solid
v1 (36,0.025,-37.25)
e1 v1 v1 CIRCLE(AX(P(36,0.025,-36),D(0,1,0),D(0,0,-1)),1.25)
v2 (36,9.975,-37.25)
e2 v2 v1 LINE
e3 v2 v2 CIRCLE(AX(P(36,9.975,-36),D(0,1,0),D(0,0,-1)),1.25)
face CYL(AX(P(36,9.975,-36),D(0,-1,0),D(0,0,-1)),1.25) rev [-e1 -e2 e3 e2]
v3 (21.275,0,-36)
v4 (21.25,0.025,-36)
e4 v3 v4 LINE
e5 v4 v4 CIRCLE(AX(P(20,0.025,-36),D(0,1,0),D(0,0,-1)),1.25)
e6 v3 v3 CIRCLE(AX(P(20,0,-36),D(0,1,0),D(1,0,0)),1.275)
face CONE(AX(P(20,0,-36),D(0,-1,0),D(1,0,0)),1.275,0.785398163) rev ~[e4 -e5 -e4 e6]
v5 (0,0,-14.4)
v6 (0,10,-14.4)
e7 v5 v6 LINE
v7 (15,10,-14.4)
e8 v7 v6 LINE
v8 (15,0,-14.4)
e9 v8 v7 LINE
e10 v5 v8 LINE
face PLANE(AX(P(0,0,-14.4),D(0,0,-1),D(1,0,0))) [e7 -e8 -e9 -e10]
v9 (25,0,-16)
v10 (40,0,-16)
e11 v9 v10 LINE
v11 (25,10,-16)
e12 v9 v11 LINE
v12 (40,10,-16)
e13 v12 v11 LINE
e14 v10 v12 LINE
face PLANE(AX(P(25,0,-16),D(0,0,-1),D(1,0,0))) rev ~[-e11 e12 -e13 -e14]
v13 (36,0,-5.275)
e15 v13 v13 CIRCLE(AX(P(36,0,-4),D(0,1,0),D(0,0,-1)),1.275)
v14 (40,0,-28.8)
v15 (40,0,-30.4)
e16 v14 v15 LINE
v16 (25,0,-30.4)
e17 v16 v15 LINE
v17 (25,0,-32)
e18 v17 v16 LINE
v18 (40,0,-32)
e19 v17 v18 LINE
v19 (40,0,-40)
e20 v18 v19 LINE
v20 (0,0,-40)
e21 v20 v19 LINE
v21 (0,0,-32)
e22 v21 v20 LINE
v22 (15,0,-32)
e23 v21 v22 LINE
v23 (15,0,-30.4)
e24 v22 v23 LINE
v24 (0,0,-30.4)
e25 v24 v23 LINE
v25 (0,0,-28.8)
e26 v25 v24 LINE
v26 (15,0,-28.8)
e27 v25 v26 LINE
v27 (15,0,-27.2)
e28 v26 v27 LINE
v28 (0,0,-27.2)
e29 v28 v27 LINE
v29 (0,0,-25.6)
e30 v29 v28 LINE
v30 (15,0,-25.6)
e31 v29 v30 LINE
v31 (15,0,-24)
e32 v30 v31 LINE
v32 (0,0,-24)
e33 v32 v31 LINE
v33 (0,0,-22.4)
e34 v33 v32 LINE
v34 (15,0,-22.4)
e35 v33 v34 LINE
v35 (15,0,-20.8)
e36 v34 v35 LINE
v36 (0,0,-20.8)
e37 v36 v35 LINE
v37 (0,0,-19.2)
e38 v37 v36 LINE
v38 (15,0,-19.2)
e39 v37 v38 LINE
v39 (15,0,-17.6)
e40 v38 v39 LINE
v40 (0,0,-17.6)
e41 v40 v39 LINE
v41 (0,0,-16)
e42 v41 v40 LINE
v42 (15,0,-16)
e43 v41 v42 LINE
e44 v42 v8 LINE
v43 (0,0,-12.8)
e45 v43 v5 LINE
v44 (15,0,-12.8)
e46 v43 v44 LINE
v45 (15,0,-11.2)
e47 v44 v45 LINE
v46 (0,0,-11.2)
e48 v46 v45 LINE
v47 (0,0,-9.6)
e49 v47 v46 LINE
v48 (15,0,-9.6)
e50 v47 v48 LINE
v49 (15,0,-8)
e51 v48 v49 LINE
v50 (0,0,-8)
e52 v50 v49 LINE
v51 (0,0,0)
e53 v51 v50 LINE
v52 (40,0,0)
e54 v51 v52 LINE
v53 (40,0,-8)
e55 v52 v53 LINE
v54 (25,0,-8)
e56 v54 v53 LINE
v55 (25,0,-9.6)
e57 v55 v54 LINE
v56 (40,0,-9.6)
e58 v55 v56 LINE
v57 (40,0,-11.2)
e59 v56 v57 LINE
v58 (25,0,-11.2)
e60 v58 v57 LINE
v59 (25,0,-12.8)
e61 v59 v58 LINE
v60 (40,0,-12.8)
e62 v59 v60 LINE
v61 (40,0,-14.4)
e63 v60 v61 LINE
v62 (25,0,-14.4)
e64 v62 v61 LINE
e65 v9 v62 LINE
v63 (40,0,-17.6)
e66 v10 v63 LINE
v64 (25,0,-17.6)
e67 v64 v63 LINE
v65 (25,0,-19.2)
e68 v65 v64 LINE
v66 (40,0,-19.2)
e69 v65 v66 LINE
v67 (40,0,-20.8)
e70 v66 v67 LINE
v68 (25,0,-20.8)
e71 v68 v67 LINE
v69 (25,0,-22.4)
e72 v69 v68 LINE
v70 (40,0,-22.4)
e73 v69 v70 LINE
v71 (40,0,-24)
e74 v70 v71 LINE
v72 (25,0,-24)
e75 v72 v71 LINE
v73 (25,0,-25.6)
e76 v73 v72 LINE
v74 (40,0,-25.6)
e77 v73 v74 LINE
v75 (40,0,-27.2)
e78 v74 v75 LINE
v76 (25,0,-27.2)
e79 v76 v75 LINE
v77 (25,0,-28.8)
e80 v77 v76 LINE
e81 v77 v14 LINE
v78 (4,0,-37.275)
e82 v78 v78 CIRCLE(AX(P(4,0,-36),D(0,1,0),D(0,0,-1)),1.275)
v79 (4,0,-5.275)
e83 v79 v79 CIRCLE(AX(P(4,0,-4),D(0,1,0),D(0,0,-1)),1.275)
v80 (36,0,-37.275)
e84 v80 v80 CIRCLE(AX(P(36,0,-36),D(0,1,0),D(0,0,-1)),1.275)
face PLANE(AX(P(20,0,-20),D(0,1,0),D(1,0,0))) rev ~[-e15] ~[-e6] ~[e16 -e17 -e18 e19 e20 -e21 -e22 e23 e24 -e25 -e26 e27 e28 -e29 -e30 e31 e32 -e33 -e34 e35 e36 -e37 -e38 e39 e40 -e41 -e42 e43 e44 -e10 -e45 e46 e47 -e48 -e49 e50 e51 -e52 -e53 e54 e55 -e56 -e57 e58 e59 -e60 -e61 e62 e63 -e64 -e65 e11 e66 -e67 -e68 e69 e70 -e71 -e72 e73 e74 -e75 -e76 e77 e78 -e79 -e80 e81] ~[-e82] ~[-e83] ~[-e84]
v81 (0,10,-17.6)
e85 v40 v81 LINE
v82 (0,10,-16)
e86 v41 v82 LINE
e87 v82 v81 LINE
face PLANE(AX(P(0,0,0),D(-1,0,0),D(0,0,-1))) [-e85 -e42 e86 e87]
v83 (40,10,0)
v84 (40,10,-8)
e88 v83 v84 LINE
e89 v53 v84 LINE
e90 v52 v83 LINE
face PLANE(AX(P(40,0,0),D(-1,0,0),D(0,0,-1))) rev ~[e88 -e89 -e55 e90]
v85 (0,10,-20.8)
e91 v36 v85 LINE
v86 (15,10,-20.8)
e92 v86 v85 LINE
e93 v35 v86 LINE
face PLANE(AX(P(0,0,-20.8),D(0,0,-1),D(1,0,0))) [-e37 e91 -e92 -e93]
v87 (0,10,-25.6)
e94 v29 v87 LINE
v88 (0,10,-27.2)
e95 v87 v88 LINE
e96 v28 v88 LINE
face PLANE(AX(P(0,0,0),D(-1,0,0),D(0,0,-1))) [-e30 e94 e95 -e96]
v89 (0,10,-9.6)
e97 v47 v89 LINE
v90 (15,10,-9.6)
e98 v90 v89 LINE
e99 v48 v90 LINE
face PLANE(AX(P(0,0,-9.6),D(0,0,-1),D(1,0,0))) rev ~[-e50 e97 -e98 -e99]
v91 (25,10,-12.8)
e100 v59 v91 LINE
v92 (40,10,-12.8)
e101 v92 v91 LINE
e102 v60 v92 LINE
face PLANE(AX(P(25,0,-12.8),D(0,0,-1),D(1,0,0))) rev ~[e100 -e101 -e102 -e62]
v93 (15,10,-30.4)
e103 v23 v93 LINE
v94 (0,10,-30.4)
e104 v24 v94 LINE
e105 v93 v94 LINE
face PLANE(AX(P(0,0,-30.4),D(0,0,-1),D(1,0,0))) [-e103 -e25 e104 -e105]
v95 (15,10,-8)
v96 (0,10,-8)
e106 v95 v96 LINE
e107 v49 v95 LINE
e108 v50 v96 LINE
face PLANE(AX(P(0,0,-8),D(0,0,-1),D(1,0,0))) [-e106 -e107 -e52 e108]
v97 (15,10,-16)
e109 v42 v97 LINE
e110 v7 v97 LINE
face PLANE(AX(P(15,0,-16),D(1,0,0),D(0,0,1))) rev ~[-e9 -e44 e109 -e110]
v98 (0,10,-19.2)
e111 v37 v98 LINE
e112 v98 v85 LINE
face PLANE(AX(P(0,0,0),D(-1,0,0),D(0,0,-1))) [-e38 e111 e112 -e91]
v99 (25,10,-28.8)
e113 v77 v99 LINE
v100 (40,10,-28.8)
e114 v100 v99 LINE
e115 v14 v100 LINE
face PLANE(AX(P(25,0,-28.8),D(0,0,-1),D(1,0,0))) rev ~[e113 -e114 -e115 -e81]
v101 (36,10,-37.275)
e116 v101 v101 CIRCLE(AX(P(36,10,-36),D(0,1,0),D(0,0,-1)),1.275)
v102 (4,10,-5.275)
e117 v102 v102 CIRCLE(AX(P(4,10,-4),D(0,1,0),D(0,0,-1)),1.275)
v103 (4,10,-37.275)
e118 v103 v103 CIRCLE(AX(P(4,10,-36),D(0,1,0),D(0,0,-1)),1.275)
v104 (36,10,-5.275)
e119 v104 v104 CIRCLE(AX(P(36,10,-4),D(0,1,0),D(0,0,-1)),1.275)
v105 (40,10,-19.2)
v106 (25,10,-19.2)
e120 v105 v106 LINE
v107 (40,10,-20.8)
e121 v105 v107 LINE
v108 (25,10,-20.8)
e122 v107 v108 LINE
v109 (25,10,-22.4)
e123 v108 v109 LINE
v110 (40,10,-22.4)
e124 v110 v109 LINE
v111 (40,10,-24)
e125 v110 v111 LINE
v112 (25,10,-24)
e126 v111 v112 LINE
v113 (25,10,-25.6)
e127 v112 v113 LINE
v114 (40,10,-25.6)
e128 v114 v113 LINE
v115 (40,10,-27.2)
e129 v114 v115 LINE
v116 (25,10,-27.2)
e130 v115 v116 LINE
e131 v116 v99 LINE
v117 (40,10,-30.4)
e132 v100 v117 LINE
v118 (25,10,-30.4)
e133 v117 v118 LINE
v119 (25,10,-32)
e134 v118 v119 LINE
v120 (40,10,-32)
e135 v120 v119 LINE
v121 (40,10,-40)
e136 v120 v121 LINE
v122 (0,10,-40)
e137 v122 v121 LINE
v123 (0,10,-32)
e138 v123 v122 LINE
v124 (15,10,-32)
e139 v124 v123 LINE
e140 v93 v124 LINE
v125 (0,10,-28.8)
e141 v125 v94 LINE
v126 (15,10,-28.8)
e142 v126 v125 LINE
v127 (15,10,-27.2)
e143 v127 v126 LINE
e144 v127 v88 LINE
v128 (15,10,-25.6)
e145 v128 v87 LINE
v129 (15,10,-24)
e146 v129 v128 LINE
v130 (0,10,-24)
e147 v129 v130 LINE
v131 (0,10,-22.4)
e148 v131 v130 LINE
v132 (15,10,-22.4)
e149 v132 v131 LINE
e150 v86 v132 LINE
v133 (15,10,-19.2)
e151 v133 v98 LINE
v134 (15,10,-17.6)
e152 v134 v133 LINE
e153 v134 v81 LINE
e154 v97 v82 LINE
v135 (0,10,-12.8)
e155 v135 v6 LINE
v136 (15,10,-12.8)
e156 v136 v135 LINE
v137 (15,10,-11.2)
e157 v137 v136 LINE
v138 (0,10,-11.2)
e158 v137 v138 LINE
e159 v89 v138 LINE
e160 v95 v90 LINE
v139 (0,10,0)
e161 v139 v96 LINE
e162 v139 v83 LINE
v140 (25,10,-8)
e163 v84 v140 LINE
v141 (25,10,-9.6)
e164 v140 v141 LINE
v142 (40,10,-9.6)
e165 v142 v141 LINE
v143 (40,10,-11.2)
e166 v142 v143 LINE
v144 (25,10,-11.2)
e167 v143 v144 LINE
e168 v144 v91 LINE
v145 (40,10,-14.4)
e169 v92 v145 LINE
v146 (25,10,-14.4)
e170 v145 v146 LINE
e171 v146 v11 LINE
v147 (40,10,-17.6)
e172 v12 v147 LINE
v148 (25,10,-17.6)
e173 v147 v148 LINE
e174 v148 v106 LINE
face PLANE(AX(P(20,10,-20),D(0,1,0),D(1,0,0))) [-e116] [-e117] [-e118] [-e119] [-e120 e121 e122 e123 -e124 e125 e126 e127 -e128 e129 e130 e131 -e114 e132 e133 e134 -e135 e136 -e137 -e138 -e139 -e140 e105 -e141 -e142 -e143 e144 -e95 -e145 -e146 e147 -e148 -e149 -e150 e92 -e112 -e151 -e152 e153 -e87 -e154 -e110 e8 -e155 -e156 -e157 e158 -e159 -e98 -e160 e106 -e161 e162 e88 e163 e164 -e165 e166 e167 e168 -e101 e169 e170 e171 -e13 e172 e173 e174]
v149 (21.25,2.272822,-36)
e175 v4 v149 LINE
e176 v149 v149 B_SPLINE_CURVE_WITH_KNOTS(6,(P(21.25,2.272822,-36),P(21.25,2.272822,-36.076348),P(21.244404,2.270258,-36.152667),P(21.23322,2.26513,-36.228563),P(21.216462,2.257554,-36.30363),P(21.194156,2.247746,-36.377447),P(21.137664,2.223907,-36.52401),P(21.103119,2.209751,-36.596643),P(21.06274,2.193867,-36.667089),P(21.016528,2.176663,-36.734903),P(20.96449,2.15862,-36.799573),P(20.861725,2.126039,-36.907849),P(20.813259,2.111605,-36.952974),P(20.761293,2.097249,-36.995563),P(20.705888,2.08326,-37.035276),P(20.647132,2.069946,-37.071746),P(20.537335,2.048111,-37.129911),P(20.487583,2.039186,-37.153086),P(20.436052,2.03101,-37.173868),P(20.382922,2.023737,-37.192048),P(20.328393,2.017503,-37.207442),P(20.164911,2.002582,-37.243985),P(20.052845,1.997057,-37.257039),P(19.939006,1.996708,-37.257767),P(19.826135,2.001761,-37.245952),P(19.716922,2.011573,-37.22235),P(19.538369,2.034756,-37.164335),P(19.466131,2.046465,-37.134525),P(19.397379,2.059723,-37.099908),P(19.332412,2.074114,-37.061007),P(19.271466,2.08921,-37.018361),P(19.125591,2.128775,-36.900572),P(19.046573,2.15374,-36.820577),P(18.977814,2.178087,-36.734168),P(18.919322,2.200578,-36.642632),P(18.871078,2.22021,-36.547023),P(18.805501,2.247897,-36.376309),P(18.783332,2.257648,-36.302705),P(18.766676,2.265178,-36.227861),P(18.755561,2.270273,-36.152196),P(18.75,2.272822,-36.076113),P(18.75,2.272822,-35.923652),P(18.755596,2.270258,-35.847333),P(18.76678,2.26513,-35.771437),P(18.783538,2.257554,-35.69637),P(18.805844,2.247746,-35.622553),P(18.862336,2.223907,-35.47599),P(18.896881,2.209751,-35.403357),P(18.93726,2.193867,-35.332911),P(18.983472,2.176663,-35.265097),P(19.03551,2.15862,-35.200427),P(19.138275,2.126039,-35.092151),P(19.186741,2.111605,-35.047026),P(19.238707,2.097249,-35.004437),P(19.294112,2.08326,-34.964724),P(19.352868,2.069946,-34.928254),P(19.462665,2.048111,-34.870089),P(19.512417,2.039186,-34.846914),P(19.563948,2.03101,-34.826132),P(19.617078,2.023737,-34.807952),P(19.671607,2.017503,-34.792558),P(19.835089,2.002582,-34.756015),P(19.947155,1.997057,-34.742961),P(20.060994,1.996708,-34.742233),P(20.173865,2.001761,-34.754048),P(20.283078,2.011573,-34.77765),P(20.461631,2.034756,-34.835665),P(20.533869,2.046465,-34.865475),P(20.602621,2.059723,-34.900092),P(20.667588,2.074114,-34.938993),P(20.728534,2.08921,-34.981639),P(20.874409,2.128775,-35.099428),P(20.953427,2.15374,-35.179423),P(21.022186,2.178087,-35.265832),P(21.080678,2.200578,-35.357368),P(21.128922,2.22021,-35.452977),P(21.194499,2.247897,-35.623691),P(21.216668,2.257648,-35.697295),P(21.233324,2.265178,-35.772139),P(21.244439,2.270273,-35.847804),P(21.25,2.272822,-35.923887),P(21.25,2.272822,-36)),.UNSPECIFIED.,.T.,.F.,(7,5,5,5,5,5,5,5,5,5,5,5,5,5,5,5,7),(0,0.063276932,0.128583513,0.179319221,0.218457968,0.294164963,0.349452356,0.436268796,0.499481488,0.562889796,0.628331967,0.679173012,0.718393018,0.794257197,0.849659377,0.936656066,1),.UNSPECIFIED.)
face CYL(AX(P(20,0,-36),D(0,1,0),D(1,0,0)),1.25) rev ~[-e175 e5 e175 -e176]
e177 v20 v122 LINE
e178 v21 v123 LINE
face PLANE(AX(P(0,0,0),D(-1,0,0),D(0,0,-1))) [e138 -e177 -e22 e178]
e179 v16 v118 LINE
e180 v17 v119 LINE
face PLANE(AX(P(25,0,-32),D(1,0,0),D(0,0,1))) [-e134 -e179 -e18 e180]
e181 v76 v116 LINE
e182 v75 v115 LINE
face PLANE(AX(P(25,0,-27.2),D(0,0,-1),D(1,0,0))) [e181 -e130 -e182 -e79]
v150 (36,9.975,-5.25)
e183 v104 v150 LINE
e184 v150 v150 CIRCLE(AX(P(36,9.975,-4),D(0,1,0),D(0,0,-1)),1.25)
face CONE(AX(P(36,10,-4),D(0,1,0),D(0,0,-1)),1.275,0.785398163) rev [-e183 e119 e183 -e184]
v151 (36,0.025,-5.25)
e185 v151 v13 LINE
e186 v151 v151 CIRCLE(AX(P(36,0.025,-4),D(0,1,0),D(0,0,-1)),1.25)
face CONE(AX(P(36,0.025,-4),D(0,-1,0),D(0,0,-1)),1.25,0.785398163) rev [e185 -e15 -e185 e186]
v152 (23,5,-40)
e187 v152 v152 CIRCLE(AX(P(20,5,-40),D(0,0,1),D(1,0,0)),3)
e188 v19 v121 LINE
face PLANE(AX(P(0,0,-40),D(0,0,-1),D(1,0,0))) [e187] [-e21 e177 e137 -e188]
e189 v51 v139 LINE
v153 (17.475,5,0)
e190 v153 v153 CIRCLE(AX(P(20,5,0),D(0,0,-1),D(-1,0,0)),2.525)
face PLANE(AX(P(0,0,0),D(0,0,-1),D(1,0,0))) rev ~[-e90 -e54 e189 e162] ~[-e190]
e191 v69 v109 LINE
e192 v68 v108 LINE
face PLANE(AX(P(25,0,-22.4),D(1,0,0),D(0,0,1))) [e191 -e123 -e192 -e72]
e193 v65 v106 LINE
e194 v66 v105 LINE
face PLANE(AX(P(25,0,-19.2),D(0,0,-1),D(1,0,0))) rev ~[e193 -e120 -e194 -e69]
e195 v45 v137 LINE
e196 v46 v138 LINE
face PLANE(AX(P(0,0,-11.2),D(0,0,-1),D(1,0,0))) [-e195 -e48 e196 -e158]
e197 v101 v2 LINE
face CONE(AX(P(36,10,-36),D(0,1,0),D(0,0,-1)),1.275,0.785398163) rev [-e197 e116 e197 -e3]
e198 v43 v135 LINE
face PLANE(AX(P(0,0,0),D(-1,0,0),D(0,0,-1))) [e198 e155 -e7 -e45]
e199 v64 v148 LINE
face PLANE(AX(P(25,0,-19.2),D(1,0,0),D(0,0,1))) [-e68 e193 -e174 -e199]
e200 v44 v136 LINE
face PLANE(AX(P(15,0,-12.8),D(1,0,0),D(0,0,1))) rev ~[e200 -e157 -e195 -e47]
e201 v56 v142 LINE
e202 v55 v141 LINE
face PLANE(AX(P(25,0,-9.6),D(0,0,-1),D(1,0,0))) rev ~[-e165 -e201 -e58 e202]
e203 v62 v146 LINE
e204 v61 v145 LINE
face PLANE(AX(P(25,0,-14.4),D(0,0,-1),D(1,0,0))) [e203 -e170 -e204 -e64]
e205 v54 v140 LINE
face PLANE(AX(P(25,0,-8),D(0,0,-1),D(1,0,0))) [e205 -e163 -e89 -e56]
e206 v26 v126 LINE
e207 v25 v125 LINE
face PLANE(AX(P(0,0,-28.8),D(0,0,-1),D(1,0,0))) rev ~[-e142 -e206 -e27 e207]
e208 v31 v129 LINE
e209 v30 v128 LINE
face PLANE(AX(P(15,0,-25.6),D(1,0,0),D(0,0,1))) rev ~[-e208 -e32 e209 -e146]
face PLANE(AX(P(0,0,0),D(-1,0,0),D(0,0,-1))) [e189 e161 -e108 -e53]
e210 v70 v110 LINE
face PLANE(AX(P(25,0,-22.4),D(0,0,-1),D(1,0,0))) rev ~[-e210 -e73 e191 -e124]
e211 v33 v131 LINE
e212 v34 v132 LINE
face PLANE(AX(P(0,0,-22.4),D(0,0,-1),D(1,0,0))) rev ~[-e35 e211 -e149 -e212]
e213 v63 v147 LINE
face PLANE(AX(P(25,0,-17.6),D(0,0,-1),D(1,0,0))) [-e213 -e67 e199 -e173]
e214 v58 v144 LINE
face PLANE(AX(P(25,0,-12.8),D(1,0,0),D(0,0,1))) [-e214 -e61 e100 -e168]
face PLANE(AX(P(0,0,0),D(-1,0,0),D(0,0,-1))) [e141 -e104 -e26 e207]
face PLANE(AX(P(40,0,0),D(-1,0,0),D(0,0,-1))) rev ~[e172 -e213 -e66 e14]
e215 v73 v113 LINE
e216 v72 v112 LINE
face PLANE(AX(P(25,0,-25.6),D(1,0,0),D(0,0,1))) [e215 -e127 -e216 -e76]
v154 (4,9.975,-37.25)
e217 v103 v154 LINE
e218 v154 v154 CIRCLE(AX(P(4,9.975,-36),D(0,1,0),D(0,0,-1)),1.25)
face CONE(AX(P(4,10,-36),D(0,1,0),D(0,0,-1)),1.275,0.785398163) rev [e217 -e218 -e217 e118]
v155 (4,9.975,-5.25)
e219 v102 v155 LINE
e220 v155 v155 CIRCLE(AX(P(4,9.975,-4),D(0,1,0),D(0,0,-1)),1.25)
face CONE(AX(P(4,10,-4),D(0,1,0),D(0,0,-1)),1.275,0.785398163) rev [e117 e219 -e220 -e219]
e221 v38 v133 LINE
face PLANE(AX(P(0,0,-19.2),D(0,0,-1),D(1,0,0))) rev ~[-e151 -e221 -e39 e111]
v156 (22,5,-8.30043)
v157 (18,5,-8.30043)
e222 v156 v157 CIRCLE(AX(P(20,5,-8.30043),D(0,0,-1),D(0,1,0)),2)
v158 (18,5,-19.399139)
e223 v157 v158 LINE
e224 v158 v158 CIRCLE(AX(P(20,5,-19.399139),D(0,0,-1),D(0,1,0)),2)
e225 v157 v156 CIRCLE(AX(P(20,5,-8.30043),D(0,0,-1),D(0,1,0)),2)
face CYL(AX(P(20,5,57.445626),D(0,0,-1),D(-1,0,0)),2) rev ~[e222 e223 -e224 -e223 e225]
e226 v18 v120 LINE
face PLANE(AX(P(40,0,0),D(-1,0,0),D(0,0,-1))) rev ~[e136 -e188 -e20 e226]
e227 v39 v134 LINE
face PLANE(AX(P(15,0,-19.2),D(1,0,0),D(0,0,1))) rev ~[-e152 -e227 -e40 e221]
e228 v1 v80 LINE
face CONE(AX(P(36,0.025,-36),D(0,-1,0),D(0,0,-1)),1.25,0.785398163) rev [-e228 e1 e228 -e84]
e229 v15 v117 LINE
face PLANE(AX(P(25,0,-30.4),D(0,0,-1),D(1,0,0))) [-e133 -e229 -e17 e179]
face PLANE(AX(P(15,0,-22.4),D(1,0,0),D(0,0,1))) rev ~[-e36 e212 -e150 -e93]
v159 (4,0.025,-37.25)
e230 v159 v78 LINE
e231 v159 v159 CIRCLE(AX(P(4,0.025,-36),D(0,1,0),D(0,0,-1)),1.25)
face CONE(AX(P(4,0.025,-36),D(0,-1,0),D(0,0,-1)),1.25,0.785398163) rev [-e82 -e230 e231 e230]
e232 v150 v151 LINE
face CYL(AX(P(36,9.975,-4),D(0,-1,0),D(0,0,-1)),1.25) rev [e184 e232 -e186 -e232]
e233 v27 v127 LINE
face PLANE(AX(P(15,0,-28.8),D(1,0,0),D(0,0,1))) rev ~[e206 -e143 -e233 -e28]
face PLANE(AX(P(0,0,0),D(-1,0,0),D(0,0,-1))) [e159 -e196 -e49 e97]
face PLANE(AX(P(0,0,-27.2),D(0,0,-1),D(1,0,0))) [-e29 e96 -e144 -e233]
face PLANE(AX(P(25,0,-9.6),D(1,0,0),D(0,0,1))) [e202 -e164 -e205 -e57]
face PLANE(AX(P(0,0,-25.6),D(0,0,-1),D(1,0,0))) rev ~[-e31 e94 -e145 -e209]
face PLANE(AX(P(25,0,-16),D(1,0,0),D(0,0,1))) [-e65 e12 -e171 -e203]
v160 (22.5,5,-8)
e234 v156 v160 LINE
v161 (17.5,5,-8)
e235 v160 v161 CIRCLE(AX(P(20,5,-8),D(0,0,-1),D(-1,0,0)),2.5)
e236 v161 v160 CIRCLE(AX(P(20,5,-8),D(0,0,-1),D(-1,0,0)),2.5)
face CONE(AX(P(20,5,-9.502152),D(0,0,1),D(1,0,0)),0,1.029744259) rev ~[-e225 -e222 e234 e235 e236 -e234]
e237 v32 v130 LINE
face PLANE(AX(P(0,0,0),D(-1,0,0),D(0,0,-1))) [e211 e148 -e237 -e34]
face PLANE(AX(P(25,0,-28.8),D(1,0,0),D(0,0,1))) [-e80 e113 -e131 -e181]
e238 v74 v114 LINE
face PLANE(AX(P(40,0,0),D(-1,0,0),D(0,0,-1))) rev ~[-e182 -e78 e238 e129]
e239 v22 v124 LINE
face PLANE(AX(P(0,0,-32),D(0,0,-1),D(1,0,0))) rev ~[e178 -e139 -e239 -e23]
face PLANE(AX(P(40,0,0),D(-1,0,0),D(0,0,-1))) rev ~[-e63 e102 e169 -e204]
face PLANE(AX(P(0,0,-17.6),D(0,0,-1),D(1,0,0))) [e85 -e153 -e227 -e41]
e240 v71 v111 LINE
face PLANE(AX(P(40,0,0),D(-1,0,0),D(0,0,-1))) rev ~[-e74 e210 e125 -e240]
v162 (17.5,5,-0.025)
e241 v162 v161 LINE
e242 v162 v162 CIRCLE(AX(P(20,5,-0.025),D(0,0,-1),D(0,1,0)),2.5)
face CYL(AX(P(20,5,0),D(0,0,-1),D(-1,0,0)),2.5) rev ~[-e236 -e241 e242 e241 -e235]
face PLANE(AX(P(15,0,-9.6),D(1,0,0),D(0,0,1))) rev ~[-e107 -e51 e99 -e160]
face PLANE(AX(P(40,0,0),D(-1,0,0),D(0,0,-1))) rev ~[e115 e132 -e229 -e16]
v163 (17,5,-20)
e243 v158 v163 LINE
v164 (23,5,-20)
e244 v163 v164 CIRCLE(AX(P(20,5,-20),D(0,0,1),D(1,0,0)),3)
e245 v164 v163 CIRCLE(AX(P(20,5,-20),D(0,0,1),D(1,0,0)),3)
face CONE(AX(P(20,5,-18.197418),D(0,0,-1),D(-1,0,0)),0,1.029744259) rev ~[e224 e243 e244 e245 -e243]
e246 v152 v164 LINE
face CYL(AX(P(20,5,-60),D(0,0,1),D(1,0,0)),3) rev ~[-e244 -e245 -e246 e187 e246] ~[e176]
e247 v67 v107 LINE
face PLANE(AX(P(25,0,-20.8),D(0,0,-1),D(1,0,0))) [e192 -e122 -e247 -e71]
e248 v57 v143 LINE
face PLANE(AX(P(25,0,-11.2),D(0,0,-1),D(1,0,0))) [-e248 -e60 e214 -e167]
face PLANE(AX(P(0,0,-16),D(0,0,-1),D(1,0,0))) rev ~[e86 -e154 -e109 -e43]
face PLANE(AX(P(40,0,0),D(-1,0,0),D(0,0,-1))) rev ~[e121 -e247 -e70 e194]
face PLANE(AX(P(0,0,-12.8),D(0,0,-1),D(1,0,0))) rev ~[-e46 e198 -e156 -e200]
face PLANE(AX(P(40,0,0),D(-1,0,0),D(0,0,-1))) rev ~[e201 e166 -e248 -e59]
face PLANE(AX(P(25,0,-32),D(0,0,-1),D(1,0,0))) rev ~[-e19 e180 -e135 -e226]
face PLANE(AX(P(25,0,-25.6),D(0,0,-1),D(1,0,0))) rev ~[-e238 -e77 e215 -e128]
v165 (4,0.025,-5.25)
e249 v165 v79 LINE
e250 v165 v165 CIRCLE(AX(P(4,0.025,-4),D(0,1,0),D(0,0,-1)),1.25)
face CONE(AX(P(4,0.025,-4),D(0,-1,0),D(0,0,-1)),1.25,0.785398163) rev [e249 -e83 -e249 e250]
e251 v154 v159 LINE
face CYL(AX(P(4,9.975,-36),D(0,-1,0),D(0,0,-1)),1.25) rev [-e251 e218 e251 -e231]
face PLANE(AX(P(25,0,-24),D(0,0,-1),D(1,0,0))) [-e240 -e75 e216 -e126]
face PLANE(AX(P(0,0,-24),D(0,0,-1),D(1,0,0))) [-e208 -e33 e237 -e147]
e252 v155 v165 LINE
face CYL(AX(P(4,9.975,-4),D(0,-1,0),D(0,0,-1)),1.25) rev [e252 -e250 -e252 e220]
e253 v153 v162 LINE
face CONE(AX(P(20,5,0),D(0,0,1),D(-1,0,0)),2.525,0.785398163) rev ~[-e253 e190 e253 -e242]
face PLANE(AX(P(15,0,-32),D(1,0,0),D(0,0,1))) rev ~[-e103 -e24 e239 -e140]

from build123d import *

# Parameters (mm, degrees)
ESQUISSE1_W                                         = 40
ESQUISSE1_H                                         = 40
BOSS_EXTRU_1_DEPTH                                  = 10
DIAM_TRE_DU_PER_AGE_4_0_4_1_D                       = 4
TROU_POUR_TARAUDAGE_POUR_TROU_TARAUD_M6_D           = 5
TROU_POUR_TARAUDAGE_POUR_TROU_TARAUD_M6_DEPTH       = 8
TROU_POUR_TARAUDAGE_POUR_TROU_TARAUD_M6_CSINK_D     = 5.05
TROU_POUR_TARAUDAGE_POUR_TROU_TARAUD_M6_CSINK_ANGLE = 90
TROU_POUR_TARAUDAGE_POUR_TROU_TARAUD_M6_TIP         = 1.502151548
DIAM_TRE_DU_PER_AGE_6_0_6_1_D                       = 6
DIAM_TRE_DU_PER_AGE_6_0_6_1_DEPTH                   = 20
DIAM_TRE_DU_PER_AGE_6_0_6_1_TIP                     = 1.802581857
TROU_POUR_TARAUDAGE_POUR_TROU_TARAUD_2_COUNT        = 2
TROU_POUR_TARAUDAGE_POUR_TROU_TARAUD_2_PITCH        = 32
TROU_POUR_TARAUDAGE_POUR_TROU_TARAUD_3_COUNT        = 2
TROU_POUR_TARAUDAGE_POUR_TROU_TARAUD_3_PITCH        = 45.254833996
TROU_POUR_TARAUDAGE_POUR_TROU_TARAUD_4_COUNT        = 2
TROU_POUR_TARAUDAGE_POUR_TROU_TARAUD_4_PITCH        = 32
TROU_POUR_TARAUDAGE_POUR_TROU_TARAUD_5_D            = 2.5
TROU_POUR_TARAUDAGE_POUR_TROU_TARAUD_5_DEPTH        = 5
TROU_POUR_TARAUDAGE_POUR_TROU_TARAUD_5_CSINK_D      = 2.55
TROU_POUR_TARAUDAGE_POUR_TROU_TARAUD_5_CSINK_ANGLE  = 90
TROU_POUR_TARAUDAGE_POUR_TROU_TARAUD_5_TIP          = 0.751075774
ESQUISSE21_W                                        = 15
ESQUISSE21_H                                        = 1.6
ENL_V_MAT_EXTRU_1_DEPTH                             = 58.445626535
R_P_TITION_LIN_AIRE1_COUNT                          = 8
R_P_TITION_LIN_AIRE1_PITCH                          = 3.2


with BuildPart() as part:
    # Esquisse1 → Boss.-Extru.1 (new body)
    with BuildSketch(Plane(origin=(0, 0, 0), x_dir=(1, 0, 0), z_dir=(0, 1, 0))):
        with Locations((20, 20)):
            Rectangle(ESQUISSE1_W, ESQUISSE1_H)
    extrude(amount=BOSS_EXTRU_1_DEPTH)

    # Diamètre du perçage Ø4.0 (4)1 (through all)
    with Locations(Plane.XY):
        with Locations((20, 5)):
            Hole(DIAM_TRE_DU_PER_AGE_4_0_4_1_D / 2)

    # Trou pour taraudage pour trou taraudé M61
    with Locations(Plane.XY):
        with Locations((20, 5)):
            CounterSinkHole(TROU_POUR_TARAUDAGE_POUR_TROU_TARAUD_M6_D / 2, TROU_POUR_TARAUDAGE_POUR_TROU_TARAUD_M6_CSINK_D / 2, depth=TROU_POUR_TARAUDAGE_POUR_TROU_TARAUD_M6_DEPTH, counter_sink_angle=TROU_POUR_TARAUDAGE_POUR_TROU_TARAUD_M6_CSINK_ANGLE)
            with Locations((0, 0, -(TROU_POUR_TARAUDAGE_POUR_TROU_TARAUD_M6_DEPTH + TROU_POUR_TARAUDAGE_POUR_TROU_TARAUD_M6_TIP / 2))):  # 118° drill point
                Cone(0, TROU_POUR_TARAUDAGE_POUR_TROU_TARAUD_M6_D / 2, TROU_POUR_TARAUDAGE_POUR_TROU_TARAUD_M6_TIP, mode=Mode.SUBTRACT)

    # Diamètre du perçage Ø6.0 (6)1
    with Locations(Plane(origin=(0, 0, -40), x_dir=(-1, 0, 0), z_dir=(0, 0, -1))):
        with Locations((-20, 5)):
            Hole(DIAM_TRE_DU_PER_AGE_6_0_6_1_D / 2, depth=DIAM_TRE_DU_PER_AGE_6_0_6_1_DEPTH)
            with Locations((0, 0, -(DIAM_TRE_DU_PER_AGE_6_0_6_1_DEPTH + DIAM_TRE_DU_PER_AGE_6_0_6_1_TIP / 2))):  # 118° drill point
                Cone(0, DIAM_TRE_DU_PER_AGE_6_0_6_1_D / 2, DIAM_TRE_DU_PER_AGE_6_0_6_1_TIP, mode=Mode.SUBTRACT)

    # Esquisse17 → Trou pour taraudage pour trou taraud_ M3 (revolve, cut)
    with BuildSketch(Plane(origin=(4, 0, -4), x_dir=(0, 0, -1), z_dir=(1, 0, 0))):
        Polygon((0, 0), (0, 10), (1.275, 10), (1.25, 9.975), (1.25, 0.025), (1.275, 0), align=None)
    trou_pour_taraudage_pour_trou_taraud_m3 = revolve(axis=Axis((4, -6.35, -4), (0, 1, 0)), mode=Mode.SUBTRACT)

    # Trou pour taraudage pour trou taraud 2: Trou pour taraudage pour trou taraud_ M3 ×2
    with Locations(*[(i * TROU_POUR_TARAUDAGE_POUR_TROU_TARAUD_2_PITCH, 0, 0) for i in range(1, TROU_POUR_TARAUDAGE_POUR_TROU_TARAUD_2_COUNT)]):
        add(trou_pour_taraudage_pour_trou_taraud_m3, mode=Mode.SUBTRACT)

    # Trou pour taraudage pour trou taraud 3: Trou pour taraudage pour trou taraud_ M3 ×2
    with Locations(*[Vector(0.7071067811865475, 0, -0.7071067811865476) * (i * TROU_POUR_TARAUDAGE_POUR_TROU_TARAUD_3_PITCH) for i in range(1, TROU_POUR_TARAUDAGE_POUR_TROU_TARAUD_3_COUNT)]):
        add(trou_pour_taraudage_pour_trou_taraud_m3, mode=Mode.SUBTRACT)

    # Trou pour taraudage pour trou taraud 4: Trou pour taraudage pour trou taraud_ M3 ×2
    with Locations(*[(0, 0, -i * TROU_POUR_TARAUDAGE_POUR_TROU_TARAUD_4_PITCH) for i in range(1, TROU_POUR_TARAUDAGE_POUR_TROU_TARAUD_4_COUNT)]):
        add(trou_pour_taraudage_pour_trou_taraud_m3, mode=Mode.SUBTRACT)

    # Trou pour taraudage pour trou taraud 5
    with Locations(Plane(origin=(0, 0, 0), x_dir=(-1, 0, 0), z_dir=(0, -1, 0))):
        with Locations((-20, 36)):
            CounterSinkHole(TROU_POUR_TARAUDAGE_POUR_TROU_TARAUD_5_D / 2, TROU_POUR_TARAUDAGE_POUR_TROU_TARAUD_5_CSINK_D / 2, depth=TROU_POUR_TARAUDAGE_POUR_TROU_TARAUD_5_DEPTH, counter_sink_angle=TROU_POUR_TARAUDAGE_POUR_TROU_TARAUD_5_CSINK_ANGLE)
            with Locations((0, 0, -(TROU_POUR_TARAUDAGE_POUR_TROU_TARAUD_5_DEPTH + TROU_POUR_TARAUDAGE_POUR_TROU_TARAUD_5_TIP / 2))):  # 118° drill point
                Cone(0, TROU_POUR_TARAUDAGE_POUR_TROU_TARAUD_5_D / 2, TROU_POUR_TARAUDAGE_POUR_TROU_TARAUD_5_TIP, mode=Mode.SUBTRACT)

    # Esquisse21 → Enlèv. mat.-Extru.1 (cut, through all)
    with BuildSketch(Plane.XZ):
        with Locations((7.5, -8.8)):
            Rectangle(ESQUISSE21_W, ESQUISSE21_H)
        with Locations((32.5, -8.8)):
            Rectangle(ESQUISSE21_W, ESQUISSE21_H)
    enl_v_mat_extru_1 = extrude(amount=-ENL_V_MAT_EXTRU_1_DEPTH, mode=Mode.SUBTRACT)

    # Répétition linéaire1: Enlèv. mat.-Extru.1 ×8
    with Locations(*[(0, 0, -i * R_P_TITION_LIN_AIRE1_PITCH) for i in range(1, R_P_TITION_LIN_AIRE1_COUNT)]):
        add(enl_v_mat_extru_1, mode=Mode.SUBTRACT)


solid = part.part
